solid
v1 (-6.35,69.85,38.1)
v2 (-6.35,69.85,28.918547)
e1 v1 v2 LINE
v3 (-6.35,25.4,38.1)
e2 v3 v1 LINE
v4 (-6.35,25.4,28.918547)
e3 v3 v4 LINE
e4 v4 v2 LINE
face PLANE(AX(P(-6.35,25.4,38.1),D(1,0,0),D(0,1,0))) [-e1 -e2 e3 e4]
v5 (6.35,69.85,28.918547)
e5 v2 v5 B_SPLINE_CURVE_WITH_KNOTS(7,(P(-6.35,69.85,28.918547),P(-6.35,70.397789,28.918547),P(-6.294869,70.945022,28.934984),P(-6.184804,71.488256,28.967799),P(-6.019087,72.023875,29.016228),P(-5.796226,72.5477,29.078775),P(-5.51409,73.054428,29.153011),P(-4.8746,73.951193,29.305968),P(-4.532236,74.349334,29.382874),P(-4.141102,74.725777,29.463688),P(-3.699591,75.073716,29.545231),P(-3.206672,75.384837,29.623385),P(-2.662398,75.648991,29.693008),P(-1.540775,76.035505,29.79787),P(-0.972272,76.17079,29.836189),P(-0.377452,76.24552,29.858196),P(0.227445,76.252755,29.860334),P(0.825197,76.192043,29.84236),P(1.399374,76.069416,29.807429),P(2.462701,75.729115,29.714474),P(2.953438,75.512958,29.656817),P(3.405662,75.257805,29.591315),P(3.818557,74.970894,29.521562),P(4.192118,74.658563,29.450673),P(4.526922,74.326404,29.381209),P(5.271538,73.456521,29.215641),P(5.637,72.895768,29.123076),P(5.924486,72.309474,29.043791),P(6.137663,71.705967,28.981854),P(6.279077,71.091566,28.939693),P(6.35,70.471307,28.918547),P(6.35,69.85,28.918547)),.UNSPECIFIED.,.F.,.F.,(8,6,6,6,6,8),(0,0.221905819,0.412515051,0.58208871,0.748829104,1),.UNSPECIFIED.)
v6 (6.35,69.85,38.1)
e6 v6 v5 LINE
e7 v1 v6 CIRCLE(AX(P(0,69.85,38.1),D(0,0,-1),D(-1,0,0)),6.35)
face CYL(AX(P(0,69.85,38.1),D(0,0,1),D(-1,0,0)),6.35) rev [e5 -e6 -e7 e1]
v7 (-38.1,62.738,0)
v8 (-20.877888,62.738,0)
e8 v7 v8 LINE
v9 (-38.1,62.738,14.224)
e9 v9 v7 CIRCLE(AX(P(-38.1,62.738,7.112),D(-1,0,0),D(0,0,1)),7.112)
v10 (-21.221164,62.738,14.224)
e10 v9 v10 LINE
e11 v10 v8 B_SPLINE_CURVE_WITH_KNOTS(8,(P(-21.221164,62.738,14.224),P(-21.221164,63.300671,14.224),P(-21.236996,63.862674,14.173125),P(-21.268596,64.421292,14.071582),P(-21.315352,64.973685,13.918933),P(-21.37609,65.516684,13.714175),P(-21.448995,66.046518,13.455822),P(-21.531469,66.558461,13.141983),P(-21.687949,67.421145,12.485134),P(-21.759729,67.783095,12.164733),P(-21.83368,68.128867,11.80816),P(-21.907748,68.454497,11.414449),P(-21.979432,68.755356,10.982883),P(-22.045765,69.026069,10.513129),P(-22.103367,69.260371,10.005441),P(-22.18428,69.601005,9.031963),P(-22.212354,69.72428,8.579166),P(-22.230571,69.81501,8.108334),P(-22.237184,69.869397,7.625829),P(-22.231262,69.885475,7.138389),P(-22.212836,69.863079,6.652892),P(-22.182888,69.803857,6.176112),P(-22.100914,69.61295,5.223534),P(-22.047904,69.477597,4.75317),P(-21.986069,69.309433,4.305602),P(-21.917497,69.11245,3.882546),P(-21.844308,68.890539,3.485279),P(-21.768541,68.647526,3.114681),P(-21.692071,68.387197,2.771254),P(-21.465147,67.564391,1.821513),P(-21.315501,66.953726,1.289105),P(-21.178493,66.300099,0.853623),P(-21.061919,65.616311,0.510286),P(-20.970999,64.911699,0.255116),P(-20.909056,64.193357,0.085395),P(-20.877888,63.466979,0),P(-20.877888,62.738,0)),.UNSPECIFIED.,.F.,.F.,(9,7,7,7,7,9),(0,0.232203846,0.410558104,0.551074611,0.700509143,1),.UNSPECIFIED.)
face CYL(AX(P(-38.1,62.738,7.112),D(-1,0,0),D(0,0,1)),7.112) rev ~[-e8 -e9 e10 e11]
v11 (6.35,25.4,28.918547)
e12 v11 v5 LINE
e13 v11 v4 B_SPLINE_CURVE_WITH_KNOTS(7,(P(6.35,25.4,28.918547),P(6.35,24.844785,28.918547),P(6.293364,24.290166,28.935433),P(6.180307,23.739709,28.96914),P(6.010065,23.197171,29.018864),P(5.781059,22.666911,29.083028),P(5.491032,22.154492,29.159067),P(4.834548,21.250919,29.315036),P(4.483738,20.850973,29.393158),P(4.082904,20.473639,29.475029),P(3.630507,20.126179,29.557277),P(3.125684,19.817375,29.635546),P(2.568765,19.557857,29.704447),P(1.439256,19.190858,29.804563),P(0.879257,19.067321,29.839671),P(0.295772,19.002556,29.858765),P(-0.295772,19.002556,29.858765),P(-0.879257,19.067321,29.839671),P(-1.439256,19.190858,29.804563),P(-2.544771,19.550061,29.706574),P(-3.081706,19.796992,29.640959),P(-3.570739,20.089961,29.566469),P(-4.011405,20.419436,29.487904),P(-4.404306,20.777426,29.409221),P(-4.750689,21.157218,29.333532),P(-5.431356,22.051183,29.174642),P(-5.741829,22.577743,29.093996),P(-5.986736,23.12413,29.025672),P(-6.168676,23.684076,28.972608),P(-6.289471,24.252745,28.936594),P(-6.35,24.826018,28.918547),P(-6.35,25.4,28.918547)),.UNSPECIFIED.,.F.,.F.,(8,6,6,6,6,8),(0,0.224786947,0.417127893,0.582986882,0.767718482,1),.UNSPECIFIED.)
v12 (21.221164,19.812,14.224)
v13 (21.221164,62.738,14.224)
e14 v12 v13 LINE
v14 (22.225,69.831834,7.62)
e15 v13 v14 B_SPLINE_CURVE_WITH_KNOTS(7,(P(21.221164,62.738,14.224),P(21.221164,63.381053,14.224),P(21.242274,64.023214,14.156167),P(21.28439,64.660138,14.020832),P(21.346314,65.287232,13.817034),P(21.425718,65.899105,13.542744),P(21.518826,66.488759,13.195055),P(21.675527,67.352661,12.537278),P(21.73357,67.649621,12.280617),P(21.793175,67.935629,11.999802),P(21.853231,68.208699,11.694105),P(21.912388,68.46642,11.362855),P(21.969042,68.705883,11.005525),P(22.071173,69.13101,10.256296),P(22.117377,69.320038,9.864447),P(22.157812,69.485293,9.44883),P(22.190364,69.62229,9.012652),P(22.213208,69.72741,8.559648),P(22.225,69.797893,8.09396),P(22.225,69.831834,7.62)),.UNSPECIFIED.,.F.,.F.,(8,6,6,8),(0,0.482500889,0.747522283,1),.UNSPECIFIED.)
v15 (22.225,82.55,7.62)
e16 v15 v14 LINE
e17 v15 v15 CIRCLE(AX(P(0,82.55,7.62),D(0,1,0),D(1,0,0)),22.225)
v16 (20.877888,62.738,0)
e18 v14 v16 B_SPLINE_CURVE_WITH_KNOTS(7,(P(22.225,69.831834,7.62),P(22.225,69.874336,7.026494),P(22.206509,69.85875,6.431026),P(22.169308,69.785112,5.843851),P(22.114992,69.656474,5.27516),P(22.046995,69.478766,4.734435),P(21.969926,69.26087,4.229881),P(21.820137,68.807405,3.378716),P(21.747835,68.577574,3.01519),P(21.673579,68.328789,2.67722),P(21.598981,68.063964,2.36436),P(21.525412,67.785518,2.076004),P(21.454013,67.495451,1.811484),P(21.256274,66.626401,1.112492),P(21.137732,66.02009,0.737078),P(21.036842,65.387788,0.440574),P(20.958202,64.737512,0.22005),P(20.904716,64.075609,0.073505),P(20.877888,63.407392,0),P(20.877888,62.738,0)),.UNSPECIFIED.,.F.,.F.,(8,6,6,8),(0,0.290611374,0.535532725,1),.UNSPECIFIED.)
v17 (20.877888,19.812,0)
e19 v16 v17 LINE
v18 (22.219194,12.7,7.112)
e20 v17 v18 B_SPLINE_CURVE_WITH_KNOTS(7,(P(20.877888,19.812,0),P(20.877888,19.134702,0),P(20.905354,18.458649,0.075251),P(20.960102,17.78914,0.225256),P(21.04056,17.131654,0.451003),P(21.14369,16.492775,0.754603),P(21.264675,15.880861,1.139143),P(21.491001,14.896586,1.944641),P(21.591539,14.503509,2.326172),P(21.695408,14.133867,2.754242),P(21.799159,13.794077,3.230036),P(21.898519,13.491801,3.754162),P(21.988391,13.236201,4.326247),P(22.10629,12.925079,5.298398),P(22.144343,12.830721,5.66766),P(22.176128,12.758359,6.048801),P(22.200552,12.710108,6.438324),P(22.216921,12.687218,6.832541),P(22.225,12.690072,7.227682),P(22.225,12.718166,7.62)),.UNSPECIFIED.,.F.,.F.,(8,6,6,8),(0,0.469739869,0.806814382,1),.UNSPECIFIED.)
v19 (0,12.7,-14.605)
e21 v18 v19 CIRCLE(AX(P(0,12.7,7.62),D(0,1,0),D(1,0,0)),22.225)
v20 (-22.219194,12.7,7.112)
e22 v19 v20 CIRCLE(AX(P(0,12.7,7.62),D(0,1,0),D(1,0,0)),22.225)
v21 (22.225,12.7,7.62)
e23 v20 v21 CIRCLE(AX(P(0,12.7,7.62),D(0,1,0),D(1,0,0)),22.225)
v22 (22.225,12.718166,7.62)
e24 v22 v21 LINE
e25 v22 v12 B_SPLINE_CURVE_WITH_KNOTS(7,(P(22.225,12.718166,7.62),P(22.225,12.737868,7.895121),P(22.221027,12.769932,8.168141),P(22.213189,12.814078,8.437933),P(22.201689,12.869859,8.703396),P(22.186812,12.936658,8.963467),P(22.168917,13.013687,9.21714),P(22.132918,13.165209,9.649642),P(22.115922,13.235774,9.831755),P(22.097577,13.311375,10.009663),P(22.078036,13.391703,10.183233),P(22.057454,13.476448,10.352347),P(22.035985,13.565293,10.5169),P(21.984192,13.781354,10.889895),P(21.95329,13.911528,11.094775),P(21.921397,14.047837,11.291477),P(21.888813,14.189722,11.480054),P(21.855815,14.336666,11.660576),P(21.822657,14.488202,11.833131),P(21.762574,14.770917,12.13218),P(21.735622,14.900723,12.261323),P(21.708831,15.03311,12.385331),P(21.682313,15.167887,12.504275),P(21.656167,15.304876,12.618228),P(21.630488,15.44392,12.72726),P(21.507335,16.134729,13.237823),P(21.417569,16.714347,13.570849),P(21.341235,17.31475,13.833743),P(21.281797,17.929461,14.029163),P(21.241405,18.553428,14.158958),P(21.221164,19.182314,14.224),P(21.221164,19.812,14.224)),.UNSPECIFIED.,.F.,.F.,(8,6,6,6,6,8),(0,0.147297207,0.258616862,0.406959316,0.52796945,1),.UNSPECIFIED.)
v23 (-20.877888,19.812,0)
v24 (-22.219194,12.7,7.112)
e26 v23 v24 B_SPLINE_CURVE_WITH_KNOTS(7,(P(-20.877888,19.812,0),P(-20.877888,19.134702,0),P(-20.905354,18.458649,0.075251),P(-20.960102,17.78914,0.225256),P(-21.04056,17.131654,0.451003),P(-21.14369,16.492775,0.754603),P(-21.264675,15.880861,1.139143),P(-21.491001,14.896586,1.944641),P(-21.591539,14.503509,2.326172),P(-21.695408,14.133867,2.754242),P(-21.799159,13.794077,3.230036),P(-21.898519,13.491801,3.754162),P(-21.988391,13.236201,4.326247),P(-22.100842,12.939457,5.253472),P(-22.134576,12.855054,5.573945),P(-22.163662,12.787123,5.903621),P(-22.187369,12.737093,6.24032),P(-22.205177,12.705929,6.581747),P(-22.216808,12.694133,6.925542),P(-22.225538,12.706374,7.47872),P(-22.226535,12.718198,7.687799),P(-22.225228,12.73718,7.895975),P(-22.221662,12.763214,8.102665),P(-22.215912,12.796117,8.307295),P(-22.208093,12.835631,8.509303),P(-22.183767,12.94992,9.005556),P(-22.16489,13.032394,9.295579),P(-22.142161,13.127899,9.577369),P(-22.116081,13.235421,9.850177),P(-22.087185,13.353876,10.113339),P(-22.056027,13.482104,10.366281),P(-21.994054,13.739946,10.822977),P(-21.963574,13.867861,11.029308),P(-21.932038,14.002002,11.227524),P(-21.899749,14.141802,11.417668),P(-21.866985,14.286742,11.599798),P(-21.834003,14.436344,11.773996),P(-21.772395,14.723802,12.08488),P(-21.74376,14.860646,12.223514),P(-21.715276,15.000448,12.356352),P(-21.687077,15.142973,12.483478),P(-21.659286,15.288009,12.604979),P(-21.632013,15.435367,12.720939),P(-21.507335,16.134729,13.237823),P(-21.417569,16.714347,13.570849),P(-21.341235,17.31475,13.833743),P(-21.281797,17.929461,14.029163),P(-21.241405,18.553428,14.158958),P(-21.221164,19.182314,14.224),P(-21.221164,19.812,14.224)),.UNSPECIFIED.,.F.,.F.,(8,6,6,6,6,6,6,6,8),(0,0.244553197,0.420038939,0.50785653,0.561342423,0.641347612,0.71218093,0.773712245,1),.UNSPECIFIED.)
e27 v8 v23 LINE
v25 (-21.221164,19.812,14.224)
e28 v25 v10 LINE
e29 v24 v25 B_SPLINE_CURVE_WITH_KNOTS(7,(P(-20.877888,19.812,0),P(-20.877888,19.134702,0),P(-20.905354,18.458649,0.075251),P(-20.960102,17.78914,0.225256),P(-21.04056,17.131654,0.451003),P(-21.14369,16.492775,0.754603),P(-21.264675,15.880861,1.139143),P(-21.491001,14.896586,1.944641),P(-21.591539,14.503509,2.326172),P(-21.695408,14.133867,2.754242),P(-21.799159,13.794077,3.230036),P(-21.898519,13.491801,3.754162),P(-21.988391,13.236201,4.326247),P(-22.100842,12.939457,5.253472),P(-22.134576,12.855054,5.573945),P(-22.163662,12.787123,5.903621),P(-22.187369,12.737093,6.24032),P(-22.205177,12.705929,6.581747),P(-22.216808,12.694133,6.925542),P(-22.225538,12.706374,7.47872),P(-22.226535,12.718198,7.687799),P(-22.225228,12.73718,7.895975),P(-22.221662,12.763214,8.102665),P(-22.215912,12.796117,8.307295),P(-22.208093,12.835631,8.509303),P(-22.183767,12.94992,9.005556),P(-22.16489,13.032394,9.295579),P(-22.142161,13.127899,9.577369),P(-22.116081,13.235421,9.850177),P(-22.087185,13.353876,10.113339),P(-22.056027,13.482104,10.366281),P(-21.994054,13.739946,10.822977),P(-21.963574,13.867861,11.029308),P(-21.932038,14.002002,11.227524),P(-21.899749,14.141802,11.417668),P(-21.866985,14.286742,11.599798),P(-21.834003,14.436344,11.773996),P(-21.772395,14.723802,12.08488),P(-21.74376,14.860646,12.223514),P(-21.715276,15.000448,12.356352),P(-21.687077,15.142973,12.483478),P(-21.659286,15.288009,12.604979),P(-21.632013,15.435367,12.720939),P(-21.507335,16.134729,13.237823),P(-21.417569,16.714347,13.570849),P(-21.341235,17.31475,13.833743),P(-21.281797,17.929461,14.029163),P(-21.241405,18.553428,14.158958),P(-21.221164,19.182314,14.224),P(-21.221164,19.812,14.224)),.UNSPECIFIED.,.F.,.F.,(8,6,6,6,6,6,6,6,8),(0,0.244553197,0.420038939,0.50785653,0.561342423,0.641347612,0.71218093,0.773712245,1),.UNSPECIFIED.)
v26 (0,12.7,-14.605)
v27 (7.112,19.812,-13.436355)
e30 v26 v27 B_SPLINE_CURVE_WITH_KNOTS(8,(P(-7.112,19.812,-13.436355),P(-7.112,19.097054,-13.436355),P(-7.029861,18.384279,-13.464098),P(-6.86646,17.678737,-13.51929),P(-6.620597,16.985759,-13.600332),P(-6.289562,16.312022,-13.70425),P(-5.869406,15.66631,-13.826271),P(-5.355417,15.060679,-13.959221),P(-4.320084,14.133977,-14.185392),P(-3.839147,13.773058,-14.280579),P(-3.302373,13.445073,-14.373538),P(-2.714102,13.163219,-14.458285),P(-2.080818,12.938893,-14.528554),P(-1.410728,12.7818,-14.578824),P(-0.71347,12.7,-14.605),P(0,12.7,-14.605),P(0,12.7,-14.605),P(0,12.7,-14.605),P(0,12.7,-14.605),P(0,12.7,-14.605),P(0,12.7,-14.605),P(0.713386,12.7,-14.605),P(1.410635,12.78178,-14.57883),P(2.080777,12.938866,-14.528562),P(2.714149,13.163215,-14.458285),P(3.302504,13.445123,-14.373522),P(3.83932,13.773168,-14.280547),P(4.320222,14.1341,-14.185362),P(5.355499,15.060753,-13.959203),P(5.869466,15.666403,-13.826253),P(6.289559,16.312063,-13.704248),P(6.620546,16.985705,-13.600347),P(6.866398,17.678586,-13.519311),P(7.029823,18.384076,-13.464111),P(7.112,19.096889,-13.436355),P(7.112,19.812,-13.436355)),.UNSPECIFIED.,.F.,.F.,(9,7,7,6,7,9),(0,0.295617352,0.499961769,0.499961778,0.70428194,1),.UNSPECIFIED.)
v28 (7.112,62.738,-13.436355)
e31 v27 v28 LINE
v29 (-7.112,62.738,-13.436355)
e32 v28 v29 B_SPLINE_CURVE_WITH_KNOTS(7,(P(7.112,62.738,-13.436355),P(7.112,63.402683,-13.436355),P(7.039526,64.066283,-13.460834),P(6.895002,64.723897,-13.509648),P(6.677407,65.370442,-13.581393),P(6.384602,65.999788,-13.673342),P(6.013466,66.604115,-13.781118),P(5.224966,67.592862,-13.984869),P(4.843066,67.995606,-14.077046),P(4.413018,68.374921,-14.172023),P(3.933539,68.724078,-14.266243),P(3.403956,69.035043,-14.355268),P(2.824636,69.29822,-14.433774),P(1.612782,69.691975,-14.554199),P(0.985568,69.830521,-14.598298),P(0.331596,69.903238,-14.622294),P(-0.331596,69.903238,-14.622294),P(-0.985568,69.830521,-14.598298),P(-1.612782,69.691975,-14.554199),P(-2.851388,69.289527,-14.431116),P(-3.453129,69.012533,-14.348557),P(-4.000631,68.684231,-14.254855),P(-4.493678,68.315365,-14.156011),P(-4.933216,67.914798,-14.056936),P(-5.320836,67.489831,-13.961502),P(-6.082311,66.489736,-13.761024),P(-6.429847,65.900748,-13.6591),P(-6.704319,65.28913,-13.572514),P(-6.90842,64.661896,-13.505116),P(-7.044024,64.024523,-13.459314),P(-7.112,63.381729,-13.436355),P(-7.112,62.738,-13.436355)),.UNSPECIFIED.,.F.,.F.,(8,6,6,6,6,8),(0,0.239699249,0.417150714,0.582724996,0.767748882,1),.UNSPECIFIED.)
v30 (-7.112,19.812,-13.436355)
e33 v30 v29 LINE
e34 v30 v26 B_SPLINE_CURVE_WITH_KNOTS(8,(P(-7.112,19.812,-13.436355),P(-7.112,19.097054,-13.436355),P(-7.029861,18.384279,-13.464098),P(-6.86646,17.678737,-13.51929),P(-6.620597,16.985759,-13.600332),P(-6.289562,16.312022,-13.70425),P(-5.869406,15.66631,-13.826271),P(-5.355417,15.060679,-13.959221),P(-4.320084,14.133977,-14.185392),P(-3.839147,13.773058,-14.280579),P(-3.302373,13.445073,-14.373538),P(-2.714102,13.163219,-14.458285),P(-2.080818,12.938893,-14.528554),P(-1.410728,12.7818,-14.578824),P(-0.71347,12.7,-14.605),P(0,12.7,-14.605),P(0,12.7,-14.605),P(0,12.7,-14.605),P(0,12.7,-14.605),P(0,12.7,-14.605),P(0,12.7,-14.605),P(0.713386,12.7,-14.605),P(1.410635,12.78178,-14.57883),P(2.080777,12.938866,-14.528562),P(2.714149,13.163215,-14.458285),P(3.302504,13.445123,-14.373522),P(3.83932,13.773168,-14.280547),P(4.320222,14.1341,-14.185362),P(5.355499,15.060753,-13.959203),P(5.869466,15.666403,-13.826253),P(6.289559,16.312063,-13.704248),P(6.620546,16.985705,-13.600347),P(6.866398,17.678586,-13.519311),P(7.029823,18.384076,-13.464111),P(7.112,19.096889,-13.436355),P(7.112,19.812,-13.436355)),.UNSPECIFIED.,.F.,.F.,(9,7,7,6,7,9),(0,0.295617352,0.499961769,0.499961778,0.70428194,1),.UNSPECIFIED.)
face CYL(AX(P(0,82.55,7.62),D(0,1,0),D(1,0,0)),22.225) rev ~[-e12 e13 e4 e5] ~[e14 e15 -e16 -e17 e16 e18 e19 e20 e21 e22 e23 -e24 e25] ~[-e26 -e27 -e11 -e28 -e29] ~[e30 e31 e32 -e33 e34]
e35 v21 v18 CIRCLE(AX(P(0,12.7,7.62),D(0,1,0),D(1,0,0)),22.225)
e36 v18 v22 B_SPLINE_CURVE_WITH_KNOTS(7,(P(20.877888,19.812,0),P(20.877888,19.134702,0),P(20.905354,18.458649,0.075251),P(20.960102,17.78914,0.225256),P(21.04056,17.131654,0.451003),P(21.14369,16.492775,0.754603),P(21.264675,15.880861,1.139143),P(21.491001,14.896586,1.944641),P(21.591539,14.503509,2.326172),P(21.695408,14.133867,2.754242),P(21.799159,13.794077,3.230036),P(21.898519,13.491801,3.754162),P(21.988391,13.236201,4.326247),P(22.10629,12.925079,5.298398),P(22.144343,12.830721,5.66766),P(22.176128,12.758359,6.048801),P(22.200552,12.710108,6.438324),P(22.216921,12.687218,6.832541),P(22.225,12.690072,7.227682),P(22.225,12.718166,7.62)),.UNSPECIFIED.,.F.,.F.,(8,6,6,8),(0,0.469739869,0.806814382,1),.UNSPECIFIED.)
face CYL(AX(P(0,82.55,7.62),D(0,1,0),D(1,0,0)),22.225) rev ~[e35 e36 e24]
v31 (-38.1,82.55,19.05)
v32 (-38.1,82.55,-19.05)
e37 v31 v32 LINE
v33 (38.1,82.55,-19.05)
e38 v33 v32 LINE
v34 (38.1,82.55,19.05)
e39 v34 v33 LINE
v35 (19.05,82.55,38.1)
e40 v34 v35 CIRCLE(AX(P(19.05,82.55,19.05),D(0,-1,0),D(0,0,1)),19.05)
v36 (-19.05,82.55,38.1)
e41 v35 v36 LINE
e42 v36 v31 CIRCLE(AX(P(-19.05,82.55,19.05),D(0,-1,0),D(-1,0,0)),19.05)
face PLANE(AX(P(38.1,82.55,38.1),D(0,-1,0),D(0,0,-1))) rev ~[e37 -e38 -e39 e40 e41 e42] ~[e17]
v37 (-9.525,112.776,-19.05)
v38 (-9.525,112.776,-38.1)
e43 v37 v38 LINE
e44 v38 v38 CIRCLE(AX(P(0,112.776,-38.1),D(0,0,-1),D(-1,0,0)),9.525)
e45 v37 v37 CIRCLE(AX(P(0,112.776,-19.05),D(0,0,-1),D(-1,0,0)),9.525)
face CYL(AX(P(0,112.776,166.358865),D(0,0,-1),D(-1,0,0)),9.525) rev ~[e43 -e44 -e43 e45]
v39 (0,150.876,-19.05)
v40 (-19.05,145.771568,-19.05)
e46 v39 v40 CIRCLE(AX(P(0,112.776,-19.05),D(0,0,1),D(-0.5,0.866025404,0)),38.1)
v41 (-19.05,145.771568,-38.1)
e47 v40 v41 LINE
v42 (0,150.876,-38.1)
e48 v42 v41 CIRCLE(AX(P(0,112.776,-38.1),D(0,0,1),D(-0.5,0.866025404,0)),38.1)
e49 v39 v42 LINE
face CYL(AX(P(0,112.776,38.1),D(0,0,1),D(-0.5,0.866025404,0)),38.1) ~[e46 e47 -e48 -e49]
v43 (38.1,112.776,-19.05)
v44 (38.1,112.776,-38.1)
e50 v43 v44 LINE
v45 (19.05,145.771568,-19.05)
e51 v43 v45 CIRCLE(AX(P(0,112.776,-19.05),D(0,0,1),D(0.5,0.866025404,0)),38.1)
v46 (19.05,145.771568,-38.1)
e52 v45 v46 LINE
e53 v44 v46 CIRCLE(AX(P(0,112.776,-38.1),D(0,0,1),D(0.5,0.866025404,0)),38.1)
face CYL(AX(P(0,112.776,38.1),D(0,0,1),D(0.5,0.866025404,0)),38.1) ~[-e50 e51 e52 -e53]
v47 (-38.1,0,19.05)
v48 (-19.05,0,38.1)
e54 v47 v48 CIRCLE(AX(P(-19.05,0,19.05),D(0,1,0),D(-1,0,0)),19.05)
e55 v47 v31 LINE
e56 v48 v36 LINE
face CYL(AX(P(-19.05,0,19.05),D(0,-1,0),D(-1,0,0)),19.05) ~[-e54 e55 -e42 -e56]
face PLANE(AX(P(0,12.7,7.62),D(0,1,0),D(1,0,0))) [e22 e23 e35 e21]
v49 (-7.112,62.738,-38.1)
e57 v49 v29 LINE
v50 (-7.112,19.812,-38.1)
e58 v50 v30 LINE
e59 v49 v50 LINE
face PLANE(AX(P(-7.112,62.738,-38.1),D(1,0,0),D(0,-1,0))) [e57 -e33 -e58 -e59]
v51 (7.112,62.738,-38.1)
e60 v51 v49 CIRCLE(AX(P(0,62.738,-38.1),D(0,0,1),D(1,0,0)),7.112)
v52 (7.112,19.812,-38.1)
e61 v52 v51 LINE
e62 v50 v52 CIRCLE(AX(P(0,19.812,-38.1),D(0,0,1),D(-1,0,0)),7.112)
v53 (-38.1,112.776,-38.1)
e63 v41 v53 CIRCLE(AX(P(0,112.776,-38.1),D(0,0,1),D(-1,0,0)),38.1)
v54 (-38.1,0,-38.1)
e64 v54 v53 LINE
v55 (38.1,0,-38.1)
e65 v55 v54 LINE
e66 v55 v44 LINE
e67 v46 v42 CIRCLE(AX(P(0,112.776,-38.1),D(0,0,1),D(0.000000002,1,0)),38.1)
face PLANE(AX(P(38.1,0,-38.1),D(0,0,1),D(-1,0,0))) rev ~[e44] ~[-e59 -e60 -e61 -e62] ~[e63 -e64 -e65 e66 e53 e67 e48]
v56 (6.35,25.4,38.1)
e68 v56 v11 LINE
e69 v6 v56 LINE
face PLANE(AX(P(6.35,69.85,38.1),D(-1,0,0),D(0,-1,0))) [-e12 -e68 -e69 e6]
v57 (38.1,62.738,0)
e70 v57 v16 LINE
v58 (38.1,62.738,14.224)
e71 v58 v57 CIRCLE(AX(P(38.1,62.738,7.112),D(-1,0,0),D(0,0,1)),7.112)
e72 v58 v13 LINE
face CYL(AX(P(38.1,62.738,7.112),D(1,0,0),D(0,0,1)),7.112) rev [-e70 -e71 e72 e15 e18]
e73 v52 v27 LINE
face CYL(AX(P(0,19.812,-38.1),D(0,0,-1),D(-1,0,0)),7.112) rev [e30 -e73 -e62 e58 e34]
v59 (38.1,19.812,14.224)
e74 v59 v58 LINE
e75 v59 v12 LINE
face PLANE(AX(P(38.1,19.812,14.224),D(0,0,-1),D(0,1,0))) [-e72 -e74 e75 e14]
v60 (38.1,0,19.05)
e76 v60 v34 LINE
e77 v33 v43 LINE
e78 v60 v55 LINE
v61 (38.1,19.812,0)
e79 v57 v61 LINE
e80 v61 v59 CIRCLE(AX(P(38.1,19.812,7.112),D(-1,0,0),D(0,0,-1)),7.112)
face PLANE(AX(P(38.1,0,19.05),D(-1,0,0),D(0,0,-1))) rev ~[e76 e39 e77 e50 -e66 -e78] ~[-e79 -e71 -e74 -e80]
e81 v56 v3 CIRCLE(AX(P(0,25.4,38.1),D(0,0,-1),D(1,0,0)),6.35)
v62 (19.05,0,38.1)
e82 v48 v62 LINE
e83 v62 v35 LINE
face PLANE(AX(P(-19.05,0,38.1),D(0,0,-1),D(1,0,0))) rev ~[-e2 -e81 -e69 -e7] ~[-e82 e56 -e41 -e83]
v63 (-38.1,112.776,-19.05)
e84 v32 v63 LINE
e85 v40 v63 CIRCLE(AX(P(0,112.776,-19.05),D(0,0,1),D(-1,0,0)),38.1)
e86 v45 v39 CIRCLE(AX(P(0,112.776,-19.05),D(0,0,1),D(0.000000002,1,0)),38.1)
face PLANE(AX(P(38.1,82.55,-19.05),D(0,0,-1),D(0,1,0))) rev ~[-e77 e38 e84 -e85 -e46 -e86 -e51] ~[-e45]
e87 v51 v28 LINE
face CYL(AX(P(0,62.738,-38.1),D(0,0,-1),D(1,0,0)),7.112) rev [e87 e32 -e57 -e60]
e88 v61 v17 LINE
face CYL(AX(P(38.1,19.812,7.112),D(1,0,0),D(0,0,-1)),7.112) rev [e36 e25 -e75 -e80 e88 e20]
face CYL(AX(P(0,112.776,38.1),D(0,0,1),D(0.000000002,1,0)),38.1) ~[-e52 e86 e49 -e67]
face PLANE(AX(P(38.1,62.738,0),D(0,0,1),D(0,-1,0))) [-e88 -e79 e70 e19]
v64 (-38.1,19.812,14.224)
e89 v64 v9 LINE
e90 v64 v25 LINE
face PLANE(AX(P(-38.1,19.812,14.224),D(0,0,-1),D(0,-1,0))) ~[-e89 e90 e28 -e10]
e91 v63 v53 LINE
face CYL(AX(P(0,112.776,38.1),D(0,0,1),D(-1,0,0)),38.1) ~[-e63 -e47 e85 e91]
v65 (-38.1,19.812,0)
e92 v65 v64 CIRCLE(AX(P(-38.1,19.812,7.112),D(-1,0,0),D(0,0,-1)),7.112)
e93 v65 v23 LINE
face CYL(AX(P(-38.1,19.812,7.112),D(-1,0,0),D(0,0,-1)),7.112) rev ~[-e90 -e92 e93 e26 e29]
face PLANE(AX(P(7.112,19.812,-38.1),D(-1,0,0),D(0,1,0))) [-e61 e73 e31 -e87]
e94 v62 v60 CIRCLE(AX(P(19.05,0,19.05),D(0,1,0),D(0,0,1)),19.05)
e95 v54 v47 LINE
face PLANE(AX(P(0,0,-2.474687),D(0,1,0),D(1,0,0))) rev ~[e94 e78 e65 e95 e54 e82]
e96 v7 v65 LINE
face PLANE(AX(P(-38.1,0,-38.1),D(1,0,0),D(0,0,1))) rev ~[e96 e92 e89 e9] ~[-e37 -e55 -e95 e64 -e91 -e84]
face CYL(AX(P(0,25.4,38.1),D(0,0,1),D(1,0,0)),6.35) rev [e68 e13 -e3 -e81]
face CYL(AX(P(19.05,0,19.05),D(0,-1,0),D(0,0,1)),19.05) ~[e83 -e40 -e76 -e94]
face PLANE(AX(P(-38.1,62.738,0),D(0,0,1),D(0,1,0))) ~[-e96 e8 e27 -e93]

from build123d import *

# Parameters (mm, degrees)
BOSS_EXTRUDE1_DEPTH         = 150.876
CUT_EXTRUDE1_DEPTH          = 77.2
SKETCH3_W                   = 57.15
SKETCH3_H                   = 68.326
CUT_EXTRUDE2_DEPTH          = 77.2000001
F_3_4_0_75_DIAMETER_HOLE1_D = 19.05
SKETCH6_R                   = 22.225
CUT_EXTRUDE3_DEPTH          = 69.85
CUT_EXTRUDE4_REACH          = 78.2
CUT_EXTRUDE5_DEPTH          = 17.222112
CUT_EXTRUDE6_REACH          = 78.2


with BuildPart() as part:
    # Sketch1 → Boss-Extrude1 (new body)
    with BuildSketch(Plane(origin=(0, 0, 0), x_dir=(1, 0, 0), z_dir=(0, 1, 0))):
        with BuildLine():
            Line((-19.05, -38.1), (19.05, -38.1))
            ThreePointArc((19.05, -38.1), (32.520384182, -32.520384182), (38.1, -19.05))
            Line((38.1, -19.05), (38.1, 38.1))
            Line((38.1, 38.1), (-38.1, 38.1))
            Line((-38.1, 38.1), (-38.1, -19.05))
            ThreePointArc((-38.1, -19.05), (-32.520384182, -32.520384182), (-19.05, -38.1))
        make_face()
    extrude(amount=BOSS_EXTRUDE1_DEPTH)

    # Sketch2 → Cut-Extrude1 (cut, through all)
    with BuildSketch(Plane.XY.offset(38.1)):
        with BuildLine():
            Line((38.1, 150.876), (19.05, 150.876))
            Line((19.05, 150.876), (19.05, 145.771567884))
            ThreePointArc((19.05, 145.771567884), (32.995567884, 131.826), (38.1, 112.776))
            Line((38.1, 112.776), (38.1, 150.876))
        make_face()
        with BuildLine():
            Line((19.05, 150.876), (5.6e-08, 150.876))
            ThreePointArc((5.6e-08, 150.876), (9.861005645, 149.577773974), (19.05, 145.771567884))
            Line((19.05, 145.771567884), (19.05, 150.876))
        make_face()
        with BuildLine():
            Line((-19.05, 150.876), (-19.05, 145.771567884))
            ThreePointArc((-19.05, 145.771567884), (-9.861005591, 149.577773989), (5.6e-08, 150.876))
            Line((5.6e-08, 150.876), (-19.05, 150.876))
        make_face()
        with BuildLine():
            Line((-38.1, 150.876), (-38.1, 112.776))
            ThreePointArc((-38.1, 112.776), (-32.995567884, 131.826), (-19.05, 145.771567884))
            Line((-19.05, 145.771567884), (-19.05, 150.876))
            Line((-19.05, 150.876), (-38.1, 150.876))
        make_face()
    extrude(amount=-CUT_EXTRUDE1_DEPTH, mode=Mode.SUBTRACT)

    # Sketch3 → Cut-Extrude2 (cut, through all)
    with BuildSketch(Plane(origin=(38.1, 0, 0), x_dir=(0, 0, -1), z_dir=(1, 0, 0))):
        with Locations((-9.525, 116.713)):
            Rectangle(SKETCH3_W, SKETCH3_H)
    extrude(amount=-CUT_EXTRUDE2_DEPTH, mode=Mode.SUBTRACT)

    # 3/4 (0.75) Diameter Hole1 (through all)
    with Locations(Plane.XY.offset(-19.05)):
        with Locations((0, 112.776)):
            Hole(F_3_4_0_75_DIAMETER_HOLE1_D / 2)

    # Sketch6 → Cut-Extrude3 (cut)
    with BuildSketch(Plane(origin=(0, 82.55, 0), x_dir=(1, 0, 0), z_dir=(0, 1, 0))):
        with Locations((0, -7.62)):
            Circle(SKETCH6_R)
    extrude(amount=-CUT_EXTRUDE3_DEPTH, mode=Mode.SUBTRACT)

    # Sketch7 → Cut-Extrude4 (cut, up to next)
    with BuildSketch(Plane.XY.offset(38.1), mode=Mode.PRIVATE) as cut_extrude4_sk1:
        with BuildLine():
            Line((-6.35, 25.4), (-6.35, 69.85))
            ThreePointArc((-6.35, 69.85), (0, 76.2), (6.35, 69.85))
            Line((6.35, 69.85), (6.35, 25.4))
            ThreePointArc((6.35, 25.4), (0, 19.05), (-6.35, 25.4))
        make_face()
    cut_extrude4_tool1 = extrude(cut_extrude4_sk1.sketch, amount=-CUT_EXTRUDE4_REACH, mode=Mode.PRIVATE) & part.part
    add(cut_extrude4_tool1.solids().sort_by_distance((0, 47.625, 38.1))[0], mode=Mode.SUBTRACT)

    # Sketch8 → Cut-Extrude5 (cut)
    with BuildSketch(Plane(origin=(38.1, 0, 0), x_dir=(0, 0, -1), z_dir=(1, 0, 0))):
        with BuildLine():
            Line((0, 62.738), (0, 19.812))
            ThreePointArc((0, 19.812), (-7.112, 12.7), (-14.224, 19.812))
            Line((-14.224, 19.812), (-14.224, 62.738))
            ThreePointArc((-14.224, 62.738), (-7.112, 69.85), (0, 62.738))
        make_face()
    cut_extrude5 = extrude(amount=-CUT_EXTRUDE5_DEPTH, mode=Mode.SUBTRACT)

    # Mirror1: Cut-Extrude5 across plane
    add(cut_extrude5.mirror(Plane(origin=(0, 0, 0), x_dir=(0, 0, 1), z_dir=(1, 0, 0))), mode=Mode.SUBTRACT)

    # Sketch9 → Cut-Extrude6 (cut, up to next)
    with BuildSketch(Plane(origin=(0, 0, -38.1), x_dir=(-1, 0, 0), z_dir=(0, 0, -1)), mode=Mode.PRIVATE) as cut_extrude6_sk1:
        with BuildLine():
            Line((-7.112, 19.812), (-7.112, 62.738))
            ThreePointArc((-7.112, 62.738), (0, 69.85), (7.112, 62.738))
            Line((7.112, 62.738), (7.112, 19.812))
            ThreePointArc((7.112, 19.812), (0, 12.7), (-7.112, 19.812))
        make_face()
    cut_extrude6_tool1 = extrude(cut_extrude6_sk1.sketch, amount=-CUT_EXTRUDE6_REACH, mode=Mode.PRIVATE) & part.part
    add(cut_extrude6_tool1.solids().sort_by_distance((0, 41.275, -38.1))[0], mode=Mode.SUBTRACT)


solid = part.part
